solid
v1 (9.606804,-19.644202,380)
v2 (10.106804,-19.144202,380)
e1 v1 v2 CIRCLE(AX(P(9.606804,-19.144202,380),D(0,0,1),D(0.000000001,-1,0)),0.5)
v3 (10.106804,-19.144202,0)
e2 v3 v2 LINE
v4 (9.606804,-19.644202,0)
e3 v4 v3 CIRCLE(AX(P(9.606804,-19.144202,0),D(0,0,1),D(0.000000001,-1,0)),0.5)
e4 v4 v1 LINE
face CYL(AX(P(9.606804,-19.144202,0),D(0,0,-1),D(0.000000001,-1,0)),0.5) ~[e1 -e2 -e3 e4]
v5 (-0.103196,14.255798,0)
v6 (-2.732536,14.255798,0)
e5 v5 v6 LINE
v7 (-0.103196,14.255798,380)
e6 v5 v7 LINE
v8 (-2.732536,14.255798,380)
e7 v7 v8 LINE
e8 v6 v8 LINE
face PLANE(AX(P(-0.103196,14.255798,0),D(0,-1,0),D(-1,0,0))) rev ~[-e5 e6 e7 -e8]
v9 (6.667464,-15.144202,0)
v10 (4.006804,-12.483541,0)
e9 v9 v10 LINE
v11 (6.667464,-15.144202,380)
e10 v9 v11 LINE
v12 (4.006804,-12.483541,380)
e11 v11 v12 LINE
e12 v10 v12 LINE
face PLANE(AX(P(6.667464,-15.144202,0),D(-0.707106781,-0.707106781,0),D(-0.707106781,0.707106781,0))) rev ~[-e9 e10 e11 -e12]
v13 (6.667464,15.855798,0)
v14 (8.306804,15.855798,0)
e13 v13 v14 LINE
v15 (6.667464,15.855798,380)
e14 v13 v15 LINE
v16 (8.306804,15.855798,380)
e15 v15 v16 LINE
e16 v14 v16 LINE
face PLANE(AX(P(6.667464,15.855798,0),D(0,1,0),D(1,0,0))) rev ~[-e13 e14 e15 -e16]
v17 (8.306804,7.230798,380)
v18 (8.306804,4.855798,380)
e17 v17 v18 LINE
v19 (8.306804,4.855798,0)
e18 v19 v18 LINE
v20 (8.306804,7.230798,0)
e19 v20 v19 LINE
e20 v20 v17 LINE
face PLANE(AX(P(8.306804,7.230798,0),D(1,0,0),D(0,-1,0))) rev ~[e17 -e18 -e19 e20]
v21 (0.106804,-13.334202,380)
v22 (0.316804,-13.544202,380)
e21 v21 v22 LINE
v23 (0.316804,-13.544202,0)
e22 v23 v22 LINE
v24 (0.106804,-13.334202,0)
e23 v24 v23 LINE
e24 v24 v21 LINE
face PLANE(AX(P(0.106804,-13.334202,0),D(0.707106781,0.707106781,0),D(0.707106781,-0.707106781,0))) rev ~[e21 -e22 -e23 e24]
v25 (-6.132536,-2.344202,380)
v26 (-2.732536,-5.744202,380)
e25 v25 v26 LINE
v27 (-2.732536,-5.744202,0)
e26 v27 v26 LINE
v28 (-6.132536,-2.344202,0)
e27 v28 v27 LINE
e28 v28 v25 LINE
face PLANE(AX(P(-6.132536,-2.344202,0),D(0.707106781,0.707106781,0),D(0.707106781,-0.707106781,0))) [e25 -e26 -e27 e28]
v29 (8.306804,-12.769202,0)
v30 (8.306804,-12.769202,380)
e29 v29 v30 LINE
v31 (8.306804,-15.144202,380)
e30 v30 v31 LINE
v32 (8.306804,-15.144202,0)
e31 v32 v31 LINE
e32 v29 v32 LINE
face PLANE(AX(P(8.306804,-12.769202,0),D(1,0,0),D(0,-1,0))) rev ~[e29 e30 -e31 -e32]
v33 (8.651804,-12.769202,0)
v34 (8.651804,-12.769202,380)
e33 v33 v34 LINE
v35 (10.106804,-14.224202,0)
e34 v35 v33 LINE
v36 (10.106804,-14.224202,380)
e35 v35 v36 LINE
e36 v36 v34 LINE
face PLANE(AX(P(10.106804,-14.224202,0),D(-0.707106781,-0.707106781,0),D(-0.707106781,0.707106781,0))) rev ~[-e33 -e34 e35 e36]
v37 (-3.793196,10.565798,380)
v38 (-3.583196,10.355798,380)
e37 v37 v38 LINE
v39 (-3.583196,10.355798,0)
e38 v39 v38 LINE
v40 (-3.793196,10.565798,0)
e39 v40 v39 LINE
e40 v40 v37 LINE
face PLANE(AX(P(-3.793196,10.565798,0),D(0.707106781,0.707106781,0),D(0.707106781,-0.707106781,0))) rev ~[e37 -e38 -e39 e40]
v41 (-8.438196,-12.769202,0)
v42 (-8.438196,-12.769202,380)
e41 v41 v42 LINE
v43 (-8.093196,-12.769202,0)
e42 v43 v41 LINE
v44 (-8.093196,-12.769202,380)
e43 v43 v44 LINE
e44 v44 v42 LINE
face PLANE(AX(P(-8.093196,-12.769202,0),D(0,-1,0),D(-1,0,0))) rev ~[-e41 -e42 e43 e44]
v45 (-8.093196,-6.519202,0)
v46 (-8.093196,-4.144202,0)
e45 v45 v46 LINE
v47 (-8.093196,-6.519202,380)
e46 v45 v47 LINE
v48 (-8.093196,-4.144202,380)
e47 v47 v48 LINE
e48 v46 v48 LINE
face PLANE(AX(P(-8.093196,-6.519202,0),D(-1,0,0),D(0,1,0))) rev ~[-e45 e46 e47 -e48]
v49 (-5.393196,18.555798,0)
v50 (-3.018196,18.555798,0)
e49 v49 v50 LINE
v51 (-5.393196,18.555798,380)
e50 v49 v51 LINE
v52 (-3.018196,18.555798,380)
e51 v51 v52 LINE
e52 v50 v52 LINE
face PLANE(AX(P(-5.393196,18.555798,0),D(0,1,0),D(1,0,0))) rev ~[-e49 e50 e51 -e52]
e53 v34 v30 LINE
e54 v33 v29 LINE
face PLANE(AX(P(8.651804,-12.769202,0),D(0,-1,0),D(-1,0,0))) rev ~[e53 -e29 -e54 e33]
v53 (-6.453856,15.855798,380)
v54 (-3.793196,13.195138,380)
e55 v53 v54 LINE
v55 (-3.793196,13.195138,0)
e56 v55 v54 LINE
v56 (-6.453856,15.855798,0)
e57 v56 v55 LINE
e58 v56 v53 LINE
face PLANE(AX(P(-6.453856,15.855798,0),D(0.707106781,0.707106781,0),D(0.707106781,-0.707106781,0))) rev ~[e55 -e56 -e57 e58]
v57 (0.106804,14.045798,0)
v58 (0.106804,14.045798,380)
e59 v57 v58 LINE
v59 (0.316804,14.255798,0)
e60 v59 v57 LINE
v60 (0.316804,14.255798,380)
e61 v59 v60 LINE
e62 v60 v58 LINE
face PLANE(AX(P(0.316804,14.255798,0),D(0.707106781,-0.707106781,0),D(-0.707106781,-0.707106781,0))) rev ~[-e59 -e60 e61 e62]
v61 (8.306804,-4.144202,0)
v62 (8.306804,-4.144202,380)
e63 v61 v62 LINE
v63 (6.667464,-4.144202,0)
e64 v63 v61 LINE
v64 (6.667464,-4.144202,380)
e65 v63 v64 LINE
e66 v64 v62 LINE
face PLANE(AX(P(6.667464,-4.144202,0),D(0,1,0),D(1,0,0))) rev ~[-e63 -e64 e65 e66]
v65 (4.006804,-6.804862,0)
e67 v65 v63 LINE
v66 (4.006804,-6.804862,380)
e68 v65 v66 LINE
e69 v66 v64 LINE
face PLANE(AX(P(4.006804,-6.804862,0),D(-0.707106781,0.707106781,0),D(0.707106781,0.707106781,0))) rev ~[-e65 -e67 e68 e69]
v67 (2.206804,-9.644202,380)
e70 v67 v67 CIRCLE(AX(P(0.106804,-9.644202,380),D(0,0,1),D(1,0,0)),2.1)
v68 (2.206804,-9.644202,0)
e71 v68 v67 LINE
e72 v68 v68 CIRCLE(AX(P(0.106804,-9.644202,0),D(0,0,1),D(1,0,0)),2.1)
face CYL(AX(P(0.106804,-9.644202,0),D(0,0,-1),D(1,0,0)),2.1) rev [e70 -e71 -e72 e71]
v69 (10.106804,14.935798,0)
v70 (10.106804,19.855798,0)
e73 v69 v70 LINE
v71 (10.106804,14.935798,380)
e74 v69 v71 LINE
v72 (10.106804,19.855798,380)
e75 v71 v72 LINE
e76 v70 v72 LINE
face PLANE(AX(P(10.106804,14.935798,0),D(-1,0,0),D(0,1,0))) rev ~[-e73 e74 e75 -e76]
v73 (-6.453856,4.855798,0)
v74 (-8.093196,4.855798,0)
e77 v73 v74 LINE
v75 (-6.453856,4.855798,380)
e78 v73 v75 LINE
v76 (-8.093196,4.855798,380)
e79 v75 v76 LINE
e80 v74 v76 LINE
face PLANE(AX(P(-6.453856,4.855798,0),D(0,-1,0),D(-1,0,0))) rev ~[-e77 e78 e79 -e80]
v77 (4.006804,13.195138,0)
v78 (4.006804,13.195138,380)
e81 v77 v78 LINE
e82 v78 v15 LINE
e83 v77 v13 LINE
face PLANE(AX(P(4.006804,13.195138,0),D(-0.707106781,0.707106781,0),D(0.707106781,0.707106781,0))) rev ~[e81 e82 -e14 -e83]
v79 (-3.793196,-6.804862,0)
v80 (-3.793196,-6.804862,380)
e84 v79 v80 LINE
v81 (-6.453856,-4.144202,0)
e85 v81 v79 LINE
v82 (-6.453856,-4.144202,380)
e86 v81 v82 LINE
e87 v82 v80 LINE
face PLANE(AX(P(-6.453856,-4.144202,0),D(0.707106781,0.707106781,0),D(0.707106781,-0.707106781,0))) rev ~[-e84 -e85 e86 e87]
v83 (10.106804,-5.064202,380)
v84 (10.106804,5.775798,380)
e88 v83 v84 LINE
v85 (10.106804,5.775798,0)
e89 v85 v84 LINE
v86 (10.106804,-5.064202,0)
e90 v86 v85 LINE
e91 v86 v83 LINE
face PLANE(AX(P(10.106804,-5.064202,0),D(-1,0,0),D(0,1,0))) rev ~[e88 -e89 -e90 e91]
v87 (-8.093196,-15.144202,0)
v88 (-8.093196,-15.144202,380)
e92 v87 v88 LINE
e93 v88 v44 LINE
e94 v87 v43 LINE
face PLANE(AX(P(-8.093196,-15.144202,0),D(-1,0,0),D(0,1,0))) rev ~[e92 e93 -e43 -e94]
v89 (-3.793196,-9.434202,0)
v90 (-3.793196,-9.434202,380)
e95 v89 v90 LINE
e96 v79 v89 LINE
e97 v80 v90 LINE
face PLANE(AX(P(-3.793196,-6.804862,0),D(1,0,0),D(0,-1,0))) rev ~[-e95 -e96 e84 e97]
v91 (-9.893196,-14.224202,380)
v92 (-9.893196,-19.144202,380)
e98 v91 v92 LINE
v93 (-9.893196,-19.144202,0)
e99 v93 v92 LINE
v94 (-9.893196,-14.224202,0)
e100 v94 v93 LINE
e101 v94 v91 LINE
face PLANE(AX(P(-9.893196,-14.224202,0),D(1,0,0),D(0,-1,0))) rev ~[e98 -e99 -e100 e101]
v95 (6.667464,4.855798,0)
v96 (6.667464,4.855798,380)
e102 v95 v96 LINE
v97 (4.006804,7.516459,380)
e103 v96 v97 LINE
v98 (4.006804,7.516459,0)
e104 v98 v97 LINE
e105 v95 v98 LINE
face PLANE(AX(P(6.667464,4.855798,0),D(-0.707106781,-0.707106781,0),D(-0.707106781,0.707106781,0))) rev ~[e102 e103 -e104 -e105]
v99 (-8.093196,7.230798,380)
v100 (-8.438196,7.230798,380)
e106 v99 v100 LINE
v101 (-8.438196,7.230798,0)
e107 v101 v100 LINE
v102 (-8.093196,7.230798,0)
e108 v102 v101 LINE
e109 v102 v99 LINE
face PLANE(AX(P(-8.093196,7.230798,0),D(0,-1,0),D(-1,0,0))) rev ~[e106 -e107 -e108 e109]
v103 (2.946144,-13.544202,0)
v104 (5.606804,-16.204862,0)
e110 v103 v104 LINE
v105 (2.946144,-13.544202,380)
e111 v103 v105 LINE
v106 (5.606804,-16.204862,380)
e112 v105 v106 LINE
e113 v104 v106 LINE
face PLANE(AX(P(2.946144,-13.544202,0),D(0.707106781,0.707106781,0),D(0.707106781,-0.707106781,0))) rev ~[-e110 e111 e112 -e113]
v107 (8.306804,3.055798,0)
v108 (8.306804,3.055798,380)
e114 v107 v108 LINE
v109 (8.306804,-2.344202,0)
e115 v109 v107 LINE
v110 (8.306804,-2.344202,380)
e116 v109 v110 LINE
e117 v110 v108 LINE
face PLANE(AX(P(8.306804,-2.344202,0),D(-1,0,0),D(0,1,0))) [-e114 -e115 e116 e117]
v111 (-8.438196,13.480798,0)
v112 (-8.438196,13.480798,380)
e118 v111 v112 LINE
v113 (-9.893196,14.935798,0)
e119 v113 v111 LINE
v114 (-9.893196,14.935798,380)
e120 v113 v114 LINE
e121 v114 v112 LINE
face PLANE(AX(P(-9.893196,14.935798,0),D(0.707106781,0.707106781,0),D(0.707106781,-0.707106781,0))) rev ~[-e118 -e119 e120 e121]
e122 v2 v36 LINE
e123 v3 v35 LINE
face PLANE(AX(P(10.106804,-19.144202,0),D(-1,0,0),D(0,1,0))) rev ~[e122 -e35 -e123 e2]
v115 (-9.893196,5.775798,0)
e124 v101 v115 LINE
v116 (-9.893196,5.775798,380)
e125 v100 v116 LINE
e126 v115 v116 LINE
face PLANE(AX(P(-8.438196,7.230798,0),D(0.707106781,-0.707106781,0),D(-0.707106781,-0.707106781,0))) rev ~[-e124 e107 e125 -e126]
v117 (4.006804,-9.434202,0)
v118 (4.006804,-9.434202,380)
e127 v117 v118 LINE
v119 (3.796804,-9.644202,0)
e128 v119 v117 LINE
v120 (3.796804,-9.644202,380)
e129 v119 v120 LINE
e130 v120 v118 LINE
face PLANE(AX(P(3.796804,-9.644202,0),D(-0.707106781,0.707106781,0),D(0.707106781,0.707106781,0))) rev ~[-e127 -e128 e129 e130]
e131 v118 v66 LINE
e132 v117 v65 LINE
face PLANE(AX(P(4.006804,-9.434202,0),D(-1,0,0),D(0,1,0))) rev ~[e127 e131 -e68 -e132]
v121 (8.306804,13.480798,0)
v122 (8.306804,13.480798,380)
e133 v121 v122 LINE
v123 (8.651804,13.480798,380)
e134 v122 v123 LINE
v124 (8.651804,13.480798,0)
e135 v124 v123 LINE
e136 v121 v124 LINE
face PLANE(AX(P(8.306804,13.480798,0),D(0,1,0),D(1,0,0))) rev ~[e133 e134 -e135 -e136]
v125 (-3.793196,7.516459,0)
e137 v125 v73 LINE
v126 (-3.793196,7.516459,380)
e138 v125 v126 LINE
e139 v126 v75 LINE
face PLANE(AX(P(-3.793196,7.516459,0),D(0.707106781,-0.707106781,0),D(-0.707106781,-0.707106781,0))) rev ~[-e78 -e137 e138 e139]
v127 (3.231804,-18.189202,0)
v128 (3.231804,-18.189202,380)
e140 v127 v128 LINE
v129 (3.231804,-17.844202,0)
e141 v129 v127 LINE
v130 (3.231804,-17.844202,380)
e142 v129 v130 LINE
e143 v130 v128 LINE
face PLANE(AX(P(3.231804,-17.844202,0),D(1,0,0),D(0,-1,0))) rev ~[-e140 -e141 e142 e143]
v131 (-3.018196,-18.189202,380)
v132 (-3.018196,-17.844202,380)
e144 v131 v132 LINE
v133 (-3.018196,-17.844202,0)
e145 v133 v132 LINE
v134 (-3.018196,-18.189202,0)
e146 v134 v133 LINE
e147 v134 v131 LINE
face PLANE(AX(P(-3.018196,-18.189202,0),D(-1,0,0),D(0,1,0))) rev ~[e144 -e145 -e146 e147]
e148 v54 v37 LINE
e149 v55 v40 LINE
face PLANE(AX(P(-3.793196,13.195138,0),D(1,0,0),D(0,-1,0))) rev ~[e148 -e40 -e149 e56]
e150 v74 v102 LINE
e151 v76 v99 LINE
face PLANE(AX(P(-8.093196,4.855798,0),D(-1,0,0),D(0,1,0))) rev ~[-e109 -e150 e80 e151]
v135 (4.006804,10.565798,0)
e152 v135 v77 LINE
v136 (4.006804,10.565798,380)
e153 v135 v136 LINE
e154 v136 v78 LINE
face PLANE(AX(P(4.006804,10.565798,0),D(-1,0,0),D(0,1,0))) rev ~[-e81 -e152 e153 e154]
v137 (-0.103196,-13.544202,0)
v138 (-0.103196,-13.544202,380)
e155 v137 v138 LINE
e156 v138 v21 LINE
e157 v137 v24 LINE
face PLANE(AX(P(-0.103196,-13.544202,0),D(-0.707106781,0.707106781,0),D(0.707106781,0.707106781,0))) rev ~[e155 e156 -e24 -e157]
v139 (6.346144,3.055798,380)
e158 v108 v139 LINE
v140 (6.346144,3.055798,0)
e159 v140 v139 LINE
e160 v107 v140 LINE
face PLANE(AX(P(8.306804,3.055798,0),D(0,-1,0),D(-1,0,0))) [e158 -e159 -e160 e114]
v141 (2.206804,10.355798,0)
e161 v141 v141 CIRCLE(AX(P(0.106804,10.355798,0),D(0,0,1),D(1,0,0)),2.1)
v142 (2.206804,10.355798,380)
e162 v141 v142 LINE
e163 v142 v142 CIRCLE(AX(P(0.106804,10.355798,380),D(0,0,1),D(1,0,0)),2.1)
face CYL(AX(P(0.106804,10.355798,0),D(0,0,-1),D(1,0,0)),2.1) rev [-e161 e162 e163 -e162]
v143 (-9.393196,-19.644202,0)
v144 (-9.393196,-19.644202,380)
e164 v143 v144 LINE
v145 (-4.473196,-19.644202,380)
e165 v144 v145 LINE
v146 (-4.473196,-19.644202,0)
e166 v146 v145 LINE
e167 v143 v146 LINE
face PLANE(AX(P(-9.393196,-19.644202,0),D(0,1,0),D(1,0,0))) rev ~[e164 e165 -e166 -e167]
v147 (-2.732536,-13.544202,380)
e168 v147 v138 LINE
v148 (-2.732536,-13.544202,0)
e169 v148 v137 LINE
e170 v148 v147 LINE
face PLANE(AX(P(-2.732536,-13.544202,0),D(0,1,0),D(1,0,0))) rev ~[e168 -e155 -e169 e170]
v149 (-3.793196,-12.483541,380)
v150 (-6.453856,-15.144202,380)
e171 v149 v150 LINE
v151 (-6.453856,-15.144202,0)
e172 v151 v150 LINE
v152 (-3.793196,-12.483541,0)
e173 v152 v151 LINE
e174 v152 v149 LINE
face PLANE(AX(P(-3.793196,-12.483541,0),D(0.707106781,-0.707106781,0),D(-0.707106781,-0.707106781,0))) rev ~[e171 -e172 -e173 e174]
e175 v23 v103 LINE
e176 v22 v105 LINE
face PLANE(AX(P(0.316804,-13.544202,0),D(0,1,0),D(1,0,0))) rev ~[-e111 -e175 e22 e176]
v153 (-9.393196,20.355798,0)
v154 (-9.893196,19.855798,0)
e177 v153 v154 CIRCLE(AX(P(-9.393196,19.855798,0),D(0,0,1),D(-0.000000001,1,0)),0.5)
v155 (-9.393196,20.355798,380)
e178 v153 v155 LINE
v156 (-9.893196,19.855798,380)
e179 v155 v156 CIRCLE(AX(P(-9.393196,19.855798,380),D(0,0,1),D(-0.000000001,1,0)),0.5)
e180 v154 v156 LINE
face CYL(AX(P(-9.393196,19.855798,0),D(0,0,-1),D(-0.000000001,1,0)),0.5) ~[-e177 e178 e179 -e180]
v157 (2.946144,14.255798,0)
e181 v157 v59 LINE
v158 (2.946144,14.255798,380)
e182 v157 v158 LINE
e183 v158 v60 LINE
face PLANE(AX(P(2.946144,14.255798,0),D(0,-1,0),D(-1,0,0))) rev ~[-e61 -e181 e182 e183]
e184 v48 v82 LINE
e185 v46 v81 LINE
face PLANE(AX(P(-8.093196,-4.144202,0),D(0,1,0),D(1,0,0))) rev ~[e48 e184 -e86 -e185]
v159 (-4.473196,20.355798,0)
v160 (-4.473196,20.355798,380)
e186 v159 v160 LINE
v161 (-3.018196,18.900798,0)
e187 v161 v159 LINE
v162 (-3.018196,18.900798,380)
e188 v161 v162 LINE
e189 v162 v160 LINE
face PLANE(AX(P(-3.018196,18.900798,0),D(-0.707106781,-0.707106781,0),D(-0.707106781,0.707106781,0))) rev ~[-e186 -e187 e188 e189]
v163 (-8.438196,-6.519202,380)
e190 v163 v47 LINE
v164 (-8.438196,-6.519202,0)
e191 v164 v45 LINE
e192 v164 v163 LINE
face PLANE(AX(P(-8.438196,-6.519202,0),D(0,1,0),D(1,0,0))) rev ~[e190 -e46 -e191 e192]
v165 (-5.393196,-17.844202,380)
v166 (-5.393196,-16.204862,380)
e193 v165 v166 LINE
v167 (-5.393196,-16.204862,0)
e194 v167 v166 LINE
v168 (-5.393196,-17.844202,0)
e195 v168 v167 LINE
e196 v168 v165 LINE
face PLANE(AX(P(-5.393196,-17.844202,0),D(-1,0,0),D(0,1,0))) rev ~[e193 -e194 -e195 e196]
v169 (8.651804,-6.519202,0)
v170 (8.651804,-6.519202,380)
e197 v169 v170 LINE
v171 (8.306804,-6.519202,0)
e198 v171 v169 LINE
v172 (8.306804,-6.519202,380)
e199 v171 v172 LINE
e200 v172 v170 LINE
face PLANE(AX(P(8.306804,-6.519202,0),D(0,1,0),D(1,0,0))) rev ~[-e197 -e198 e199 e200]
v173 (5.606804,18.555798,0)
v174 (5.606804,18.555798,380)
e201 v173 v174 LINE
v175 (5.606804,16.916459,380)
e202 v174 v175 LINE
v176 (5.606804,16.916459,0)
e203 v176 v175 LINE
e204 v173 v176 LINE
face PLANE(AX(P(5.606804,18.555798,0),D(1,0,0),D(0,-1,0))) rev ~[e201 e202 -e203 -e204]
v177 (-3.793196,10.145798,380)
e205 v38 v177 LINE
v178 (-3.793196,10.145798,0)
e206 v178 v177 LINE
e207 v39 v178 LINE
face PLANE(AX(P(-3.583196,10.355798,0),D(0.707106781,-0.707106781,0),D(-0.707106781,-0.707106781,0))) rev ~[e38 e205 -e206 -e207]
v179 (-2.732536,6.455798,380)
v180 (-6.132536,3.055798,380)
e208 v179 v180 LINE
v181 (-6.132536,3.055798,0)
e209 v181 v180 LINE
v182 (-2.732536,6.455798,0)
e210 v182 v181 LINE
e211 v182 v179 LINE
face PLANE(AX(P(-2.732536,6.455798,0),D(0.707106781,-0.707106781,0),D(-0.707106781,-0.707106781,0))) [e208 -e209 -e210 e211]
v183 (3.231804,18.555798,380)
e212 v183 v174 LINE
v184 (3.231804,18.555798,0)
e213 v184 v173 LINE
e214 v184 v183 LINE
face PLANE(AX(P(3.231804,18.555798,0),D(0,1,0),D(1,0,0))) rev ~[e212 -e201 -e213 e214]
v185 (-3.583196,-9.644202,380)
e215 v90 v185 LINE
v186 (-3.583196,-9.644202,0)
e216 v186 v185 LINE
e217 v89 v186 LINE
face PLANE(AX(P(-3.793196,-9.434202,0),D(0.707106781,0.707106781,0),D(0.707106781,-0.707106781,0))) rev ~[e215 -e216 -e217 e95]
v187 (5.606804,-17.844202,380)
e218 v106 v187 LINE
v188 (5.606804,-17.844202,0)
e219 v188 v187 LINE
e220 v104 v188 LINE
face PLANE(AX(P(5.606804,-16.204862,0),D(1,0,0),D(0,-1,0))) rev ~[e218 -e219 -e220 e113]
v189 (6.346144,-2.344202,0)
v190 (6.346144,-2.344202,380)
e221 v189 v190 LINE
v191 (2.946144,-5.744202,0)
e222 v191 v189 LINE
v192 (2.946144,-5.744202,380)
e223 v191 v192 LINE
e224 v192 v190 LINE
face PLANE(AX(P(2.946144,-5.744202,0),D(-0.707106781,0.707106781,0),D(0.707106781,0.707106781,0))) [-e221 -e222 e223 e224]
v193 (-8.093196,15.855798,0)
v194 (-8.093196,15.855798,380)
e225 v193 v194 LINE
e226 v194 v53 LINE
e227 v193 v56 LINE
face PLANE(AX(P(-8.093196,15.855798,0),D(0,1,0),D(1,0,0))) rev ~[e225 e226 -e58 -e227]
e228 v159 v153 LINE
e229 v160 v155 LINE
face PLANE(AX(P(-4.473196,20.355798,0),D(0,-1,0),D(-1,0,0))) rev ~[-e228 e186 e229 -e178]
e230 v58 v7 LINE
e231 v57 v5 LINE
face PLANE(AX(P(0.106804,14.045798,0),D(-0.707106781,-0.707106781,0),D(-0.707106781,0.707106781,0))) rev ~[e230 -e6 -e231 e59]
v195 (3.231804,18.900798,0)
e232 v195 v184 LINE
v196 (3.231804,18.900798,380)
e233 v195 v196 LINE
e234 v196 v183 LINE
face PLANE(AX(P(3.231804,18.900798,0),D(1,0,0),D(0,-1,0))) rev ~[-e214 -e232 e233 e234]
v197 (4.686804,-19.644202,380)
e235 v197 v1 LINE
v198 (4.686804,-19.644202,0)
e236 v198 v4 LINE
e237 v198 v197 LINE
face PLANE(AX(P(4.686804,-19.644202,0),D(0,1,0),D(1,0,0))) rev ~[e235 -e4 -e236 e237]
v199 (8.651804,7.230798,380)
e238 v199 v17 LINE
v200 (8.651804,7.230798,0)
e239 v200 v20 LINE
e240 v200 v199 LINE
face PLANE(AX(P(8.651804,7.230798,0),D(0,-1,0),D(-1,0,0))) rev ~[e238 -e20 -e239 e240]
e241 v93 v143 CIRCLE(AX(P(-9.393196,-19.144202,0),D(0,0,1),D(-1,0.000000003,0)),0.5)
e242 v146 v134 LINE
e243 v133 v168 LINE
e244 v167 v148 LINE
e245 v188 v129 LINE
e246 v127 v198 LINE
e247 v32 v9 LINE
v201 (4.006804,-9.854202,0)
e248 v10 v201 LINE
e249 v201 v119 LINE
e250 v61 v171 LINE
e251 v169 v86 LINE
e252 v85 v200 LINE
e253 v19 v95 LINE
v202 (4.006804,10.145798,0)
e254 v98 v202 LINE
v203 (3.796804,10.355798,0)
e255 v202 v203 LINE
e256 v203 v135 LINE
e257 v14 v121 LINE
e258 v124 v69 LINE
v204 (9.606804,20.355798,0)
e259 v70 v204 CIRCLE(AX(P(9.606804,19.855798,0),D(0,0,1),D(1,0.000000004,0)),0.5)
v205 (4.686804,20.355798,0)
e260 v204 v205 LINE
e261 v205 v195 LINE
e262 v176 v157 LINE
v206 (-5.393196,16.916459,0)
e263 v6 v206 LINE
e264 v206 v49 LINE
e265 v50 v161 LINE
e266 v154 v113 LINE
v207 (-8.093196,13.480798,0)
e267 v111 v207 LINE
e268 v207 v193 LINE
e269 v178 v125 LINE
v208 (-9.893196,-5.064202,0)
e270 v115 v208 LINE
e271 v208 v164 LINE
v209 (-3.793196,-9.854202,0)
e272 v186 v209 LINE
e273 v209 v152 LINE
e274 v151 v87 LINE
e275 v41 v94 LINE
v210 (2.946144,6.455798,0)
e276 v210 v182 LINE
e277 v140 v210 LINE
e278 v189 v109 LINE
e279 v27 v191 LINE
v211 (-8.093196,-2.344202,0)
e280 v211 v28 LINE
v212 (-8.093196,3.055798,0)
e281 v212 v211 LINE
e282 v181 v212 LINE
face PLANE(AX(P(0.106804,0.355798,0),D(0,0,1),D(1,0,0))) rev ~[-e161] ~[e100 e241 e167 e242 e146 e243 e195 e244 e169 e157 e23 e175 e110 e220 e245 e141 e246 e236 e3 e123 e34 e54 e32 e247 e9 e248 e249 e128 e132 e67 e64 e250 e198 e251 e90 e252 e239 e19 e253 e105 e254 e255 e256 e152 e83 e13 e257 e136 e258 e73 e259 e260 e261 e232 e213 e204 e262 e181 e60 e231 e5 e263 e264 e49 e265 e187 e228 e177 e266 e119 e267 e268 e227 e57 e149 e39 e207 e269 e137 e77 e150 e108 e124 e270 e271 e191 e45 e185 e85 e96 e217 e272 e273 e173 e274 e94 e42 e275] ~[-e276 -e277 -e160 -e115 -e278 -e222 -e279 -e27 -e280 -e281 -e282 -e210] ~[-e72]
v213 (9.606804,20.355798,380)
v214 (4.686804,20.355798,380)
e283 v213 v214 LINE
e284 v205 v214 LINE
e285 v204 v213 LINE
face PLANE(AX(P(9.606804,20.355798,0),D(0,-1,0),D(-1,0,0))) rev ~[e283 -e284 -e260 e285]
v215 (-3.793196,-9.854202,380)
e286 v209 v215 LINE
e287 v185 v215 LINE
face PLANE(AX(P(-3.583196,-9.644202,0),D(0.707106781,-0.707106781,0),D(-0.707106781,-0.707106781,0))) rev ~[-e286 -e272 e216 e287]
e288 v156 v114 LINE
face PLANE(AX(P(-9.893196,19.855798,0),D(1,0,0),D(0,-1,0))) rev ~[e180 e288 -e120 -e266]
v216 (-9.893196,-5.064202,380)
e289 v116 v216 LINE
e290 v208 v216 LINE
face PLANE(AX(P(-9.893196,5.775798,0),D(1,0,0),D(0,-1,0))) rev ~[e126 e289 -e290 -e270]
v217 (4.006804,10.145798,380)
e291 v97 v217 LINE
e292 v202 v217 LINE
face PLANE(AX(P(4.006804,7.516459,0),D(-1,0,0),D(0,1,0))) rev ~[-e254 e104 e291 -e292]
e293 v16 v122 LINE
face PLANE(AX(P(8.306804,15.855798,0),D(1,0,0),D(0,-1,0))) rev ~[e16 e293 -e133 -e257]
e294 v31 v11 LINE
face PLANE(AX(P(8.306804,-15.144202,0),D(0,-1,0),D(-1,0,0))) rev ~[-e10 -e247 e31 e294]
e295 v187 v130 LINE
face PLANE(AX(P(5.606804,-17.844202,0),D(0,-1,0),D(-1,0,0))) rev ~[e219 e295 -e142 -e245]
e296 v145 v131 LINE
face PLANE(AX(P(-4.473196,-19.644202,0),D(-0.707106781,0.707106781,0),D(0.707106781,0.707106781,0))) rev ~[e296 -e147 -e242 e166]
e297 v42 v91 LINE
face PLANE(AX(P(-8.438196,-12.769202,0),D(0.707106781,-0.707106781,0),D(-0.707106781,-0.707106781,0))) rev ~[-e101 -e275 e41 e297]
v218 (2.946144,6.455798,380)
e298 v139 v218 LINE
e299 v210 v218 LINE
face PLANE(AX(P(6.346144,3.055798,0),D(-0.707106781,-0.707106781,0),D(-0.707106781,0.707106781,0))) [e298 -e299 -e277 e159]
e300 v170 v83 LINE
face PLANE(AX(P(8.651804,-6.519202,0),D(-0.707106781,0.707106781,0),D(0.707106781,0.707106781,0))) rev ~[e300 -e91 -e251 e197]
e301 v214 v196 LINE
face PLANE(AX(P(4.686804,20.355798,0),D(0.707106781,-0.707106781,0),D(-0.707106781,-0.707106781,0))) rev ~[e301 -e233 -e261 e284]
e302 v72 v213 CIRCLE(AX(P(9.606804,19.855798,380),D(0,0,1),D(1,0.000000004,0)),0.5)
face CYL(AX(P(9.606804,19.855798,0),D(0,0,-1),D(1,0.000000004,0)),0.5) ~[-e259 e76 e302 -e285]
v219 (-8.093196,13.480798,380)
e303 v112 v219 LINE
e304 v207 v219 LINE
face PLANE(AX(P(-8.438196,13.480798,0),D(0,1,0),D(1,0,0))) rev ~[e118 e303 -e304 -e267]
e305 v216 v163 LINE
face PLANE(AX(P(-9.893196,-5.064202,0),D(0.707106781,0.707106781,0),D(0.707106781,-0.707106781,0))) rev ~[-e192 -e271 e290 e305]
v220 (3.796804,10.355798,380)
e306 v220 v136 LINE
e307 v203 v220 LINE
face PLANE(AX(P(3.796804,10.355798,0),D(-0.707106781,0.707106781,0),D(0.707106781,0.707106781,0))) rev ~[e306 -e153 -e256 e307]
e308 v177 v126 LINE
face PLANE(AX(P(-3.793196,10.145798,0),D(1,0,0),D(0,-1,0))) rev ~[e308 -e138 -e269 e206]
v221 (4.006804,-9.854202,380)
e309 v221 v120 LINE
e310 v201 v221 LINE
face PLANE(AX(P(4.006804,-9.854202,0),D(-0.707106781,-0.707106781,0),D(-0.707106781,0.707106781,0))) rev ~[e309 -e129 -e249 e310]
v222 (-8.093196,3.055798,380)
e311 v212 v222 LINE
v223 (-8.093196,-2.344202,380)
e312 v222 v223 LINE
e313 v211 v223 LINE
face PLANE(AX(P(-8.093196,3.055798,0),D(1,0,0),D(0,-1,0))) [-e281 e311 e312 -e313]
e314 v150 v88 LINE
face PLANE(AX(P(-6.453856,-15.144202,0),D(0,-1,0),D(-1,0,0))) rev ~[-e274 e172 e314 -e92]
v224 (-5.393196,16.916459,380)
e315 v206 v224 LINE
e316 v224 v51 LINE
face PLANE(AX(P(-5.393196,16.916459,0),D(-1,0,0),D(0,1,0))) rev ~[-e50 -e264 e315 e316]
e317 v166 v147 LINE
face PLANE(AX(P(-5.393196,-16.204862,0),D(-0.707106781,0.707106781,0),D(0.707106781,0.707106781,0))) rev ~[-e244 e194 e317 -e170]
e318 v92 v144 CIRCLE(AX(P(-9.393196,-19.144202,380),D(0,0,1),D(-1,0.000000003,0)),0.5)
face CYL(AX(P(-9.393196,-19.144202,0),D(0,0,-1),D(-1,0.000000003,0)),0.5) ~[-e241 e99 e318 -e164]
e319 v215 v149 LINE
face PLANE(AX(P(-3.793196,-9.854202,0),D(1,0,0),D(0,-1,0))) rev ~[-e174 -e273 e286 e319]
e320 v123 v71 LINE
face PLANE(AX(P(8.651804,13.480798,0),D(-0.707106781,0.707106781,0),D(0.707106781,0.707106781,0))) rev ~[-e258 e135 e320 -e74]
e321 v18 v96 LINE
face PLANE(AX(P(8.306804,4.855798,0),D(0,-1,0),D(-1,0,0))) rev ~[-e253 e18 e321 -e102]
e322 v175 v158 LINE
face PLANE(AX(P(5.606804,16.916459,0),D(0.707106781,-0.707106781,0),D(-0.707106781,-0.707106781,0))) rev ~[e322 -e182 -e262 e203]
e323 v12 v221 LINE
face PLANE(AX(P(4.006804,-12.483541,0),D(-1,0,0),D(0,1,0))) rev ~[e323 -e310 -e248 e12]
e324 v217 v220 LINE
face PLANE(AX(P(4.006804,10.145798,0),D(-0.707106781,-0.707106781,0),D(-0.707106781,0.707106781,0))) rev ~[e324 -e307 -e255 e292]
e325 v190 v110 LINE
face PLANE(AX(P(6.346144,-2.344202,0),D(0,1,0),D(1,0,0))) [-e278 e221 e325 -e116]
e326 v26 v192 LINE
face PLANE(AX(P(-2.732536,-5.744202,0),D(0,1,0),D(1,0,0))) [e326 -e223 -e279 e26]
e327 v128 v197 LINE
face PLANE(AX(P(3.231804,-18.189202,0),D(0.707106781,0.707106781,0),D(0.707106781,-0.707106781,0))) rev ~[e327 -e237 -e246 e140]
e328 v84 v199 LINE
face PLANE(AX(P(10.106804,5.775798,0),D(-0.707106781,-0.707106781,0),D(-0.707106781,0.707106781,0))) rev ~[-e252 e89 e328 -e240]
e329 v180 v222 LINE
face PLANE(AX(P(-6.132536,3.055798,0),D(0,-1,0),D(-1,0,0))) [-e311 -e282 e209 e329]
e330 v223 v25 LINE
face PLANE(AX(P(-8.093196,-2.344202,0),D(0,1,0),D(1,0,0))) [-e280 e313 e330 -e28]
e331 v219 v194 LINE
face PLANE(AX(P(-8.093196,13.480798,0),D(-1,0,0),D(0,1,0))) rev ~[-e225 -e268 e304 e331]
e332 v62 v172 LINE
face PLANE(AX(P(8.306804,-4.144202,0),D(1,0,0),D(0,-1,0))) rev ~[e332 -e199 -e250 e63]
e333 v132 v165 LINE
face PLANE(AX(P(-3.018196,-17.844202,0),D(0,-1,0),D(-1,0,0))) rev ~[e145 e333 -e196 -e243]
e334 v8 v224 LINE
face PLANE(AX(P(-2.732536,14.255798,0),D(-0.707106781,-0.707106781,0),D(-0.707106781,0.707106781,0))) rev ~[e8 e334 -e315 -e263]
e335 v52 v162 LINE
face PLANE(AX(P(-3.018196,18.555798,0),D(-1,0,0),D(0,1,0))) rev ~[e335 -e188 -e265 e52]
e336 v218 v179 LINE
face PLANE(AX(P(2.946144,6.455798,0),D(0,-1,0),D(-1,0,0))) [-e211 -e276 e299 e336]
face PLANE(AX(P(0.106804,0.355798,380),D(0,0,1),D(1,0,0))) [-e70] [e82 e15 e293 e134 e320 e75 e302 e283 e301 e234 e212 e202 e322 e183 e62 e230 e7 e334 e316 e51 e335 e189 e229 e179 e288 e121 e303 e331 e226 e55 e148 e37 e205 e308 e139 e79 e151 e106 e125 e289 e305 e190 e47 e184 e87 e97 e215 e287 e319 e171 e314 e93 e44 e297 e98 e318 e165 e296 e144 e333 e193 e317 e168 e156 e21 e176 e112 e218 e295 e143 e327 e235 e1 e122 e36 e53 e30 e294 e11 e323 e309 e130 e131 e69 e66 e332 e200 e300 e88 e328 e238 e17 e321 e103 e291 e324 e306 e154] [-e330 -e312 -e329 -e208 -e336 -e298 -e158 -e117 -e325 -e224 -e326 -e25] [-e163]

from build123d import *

# Parameters (mm, degrees)
SKETCH2_R           = 2.1
BOSS_EXTRUDE1_DEPTH = 380


with BuildPart() as part:
    # Sketch2 → Boss-Extrude1 (new body)
    with BuildSketch(Plane.XY):
        with BuildLine():
            Line((4.006804208, 10.145798499), (3.796804208, 10.355798499))
            Line((3.796804208, 10.355798499), (4.006804208, 10.565798499))
            Line((4.006804208, 10.565798499), (4.006804208, 13.195138327))
            Line((4.006804208, 13.195138327), (6.66746438, 15.855798499))
            Line((6.66746438, 15.855798499), (8.306804208, 15.855798499))
            Line((8.306804208, 15.855798499), (8.306804208, 13.480798499))
            Line((8.306804208, 13.480798499), (8.651804208, 13.480798499))
            Line((8.651804208, 13.480798499), (10.106804208, 14.935798499))
            Line((10.106804208, 14.935798499), (10.106804208, 19.855798499))
            ThreePointArc((10.106804208, 19.855798499), (9.960357598, 20.209351889), (9.606804208, 20.355798499))
            Line((9.606804208, 20.355798499), (4.686804208, 20.355798499))
            Line((4.686804208, 20.355798499), (3.231804208, 18.900798499))
            Line((3.231804208, 18.900798499), (3.231804208, 18.555798499))
            Line((3.231804208, 18.555798499), (5.606804208, 18.555798499))
            Line((5.606804208, 18.555798499), (5.606804208, 16.91645867))
            Line((5.606804208, 16.91645867), (2.946144036, 14.255798499))
            Line((2.946144036, 14.255798499), (0.316804208, 14.255798499))
            Line((0.316804208, 14.255798499), (0.106804208, 14.045798499))
            Line((0.106804208, 14.045798499), (-0.103195792, 14.255798499))
            Line((-0.103195792, 14.255798499), (-2.73253562, 14.255798499))
            Line((-2.73253562, 14.255798499), (-5.393195792, 16.91645867))
            Line((-5.393195792, 16.91645867), (-5.393195792, 18.555798499))
            Line((-5.393195792, 18.555798499), (-3.018195792, 18.555798499))
            Line((-3.018195792, 18.555798499), (-3.018195792, 18.900798499))
            Line((-3.018195792, 18.900798499), (-4.473195792, 20.355798499))
            Line((-4.473195792, 20.355798499), (-9.393195792, 20.355798499))
            ThreePointArc((-9.393195792, 20.355798499), (-9.746749183, 20.209351889), (-9.893195792, 19.855798499))
            Line((-9.893195792, 19.855798499), (-9.893195792, 14.935798499))
            Line((-9.893195792, 14.935798499), (-8.438195792, 13.480798499))
            Line((-8.438195792, 13.480798499), (-8.093195792, 13.480798499))
            Line((-8.093195792, 13.480798499), (-8.093195792, 15.855798499))
            Line((-8.093195792, 15.855798499), (-6.453855964, 15.855798499))
            Line((-6.453855964, 15.855798499), (-3.793195792, 13.195138327))
            Line((-3.793195792, 13.195138327), (-3.793195792, 10.565798499))
            Line((-3.793195792, 10.565798499), (-3.583195792, 10.355798499))
            Line((-3.583195792, 10.355798499), (-3.793195792, 10.145798499))
            Line((-3.793195792, 10.145798499), (-3.793195792, 7.51645867))
            Line((-3.793195792, 7.51645867), (-6.453855964, 4.855798499))
            Line((-6.453855964, 4.855798499), (-8.093195792, 4.855798499))
            Line((-8.093195792, 4.855798499), (-8.093195792, 7.230798499))
            Line((-8.093195792, 7.230798499), (-8.438195792, 7.230798499))
            Line((-8.438195792, 7.230798499), (-9.893195792, 5.775798499))
            Line((-9.893195792, 5.775798499), (-9.893195792, -5.064201501))
            Line((-9.893195792, -5.064201501), (-8.438195792, -6.519201501))
            Line((-8.438195792, -6.519201501), (-8.093195792, -6.519201501))
            Line((-8.093195792, -6.519201501), (-8.093195792, -4.144201501))
            Line((-8.093195792, -4.144201501), (-6.453855964, -4.144201501))
            Line((-6.453855964, -4.144201501), (-3.793195792, -6.804861673))
            Line((-3.793195792, -6.804861673), (-3.793195792, -9.434201501))
            Line((-3.793195792, -9.434201501), (-3.583195792, -9.644201501))
            Line((-3.583195792, -9.644201501), (-3.793195792, -9.854201501))
            Line((-3.793195792, -9.854201501), (-3.793195792, -12.48354133))
            Line((-3.793195792, -12.48354133), (-6.453855964, -15.144201501))
            Line((-6.453855964, -15.144201501), (-8.093195792, -15.144201501))
            Line((-8.093195792, -15.144201501), (-8.093195792, -12.769201501))
            Line((-8.093195792, -12.769201501), (-8.438195792, -12.769201501))
            Line((-8.438195792, -12.769201501), (-9.893195792, -14.224201501))
            Line((-9.893195792, -14.224201501), (-9.893195792, -19.144201501))
            ThreePointArc((-9.893195792, -19.144201501), (-9.746749183, -19.497754892), (-9.393195792, -19.644201501))
            Line((-9.393195792, -19.644201501), (-4.473195792, -19.644201501))
            Line((-4.473195792, -19.644201501), (-3.018195792, -18.189201501))
            Line((-3.018195792, -18.189201501), (-3.018195792, -17.844201501))
            Line((-3.018195792, -17.844201501), (-5.393195792, -17.844201501))
            Line((-5.393195792, -17.844201501), (-5.393195792, -16.204861673))
            Line((-5.393195792, -16.204861673), (-2.73253562, -13.544201501))
            Line((-2.73253562, -13.544201501), (-0.103195792, -13.544201501))
            Line((-0.103195792, -13.544201501), (0.106804208, -13.334201501))
            Line((0.106804208, -13.334201501), (0.316804208, -13.544201501))
            Line((0.316804208, -13.544201501), (2.946144036, -13.544201501))
            Line((2.946144036, -13.544201501), (5.606804208, -16.204861673))
            Line((5.606804208, -16.204861673), (5.606804208, -17.844201501))
            Line((5.606804208, -17.844201501), (3.231804208, -17.844201501))
            Line((3.231804208, -17.844201501), (3.231804208, -18.189201501))
            Line((3.231804208, -18.189201501), (4.686804208, -19.644201501))
            Line((4.686804208, -19.644201501), (9.606804208, -19.644201501))
            ThreePointArc((9.606804208, -19.644201501), (9.960357598, -19.497754892), (10.106804208, -19.144201501))
            Line((10.106804208, -19.144201501), (10.106804208, -14.224201501))
            Line((10.106804208, -14.224201501), (8.651804208, -12.769201501))
            Line((8.651804208, -12.769201501), (8.306804208, -12.769201501))
            Line((8.306804208, -12.769201501), (8.306804208, -15.144201501))
            Line((8.306804208, -15.144201501), (6.66746438, -15.144201501))
            Line((6.66746438, -15.144201501), (4.006804208, -12.48354133))
            Line((4.006804208, -12.48354133), (4.006804208, -9.854201501))
            Line((4.006804208, -9.854201501), (3.796804208, -9.644201501))
            Line((3.796804208, -9.644201501), (4.006804208, -9.434201501))
            Line((4.006804208, -9.434201501), (4.006804208, -6.804861673))
            Line((4.006804208, -6.804861673), (6.66746438, -4.144201501))
            Line((6.66746438, -4.144201501), (8.306804208, -4.144201501))
            Line((8.306804208, -4.144201501), (8.306804208, -6.519201501))
            Line((8.306804208, -6.519201501), (8.651804208, -6.519201501))
            Line((8.651804208, -6.519201501), (10.106804208, -5.064201501))
            Line((10.106804208, -5.064201501), (10.106804208, 5.775798499))
            Line((10.106804208, 5.775798499), (8.651804208, 7.230798499))
            Line((8.651804208, 7.230798499), (8.306804208, 7.230798499))
            Line((8.306804208, 7.230798499), (8.306804208, 4.855798499))
            Line((8.306804208, 4.855798499), (6.66746438, 4.855798499))
            Line((6.66746438, 4.855798499), (4.006804208, 7.51645867))
            Line((4.006804208, 7.51645867), (4.006804208, 10.145798499))
        make_face()
        with Locations((0.106804208, -9.644201501)):
            Circle(SKETCH2_R, mode=Mode.SUBTRACT)
        with Locations((0.106804208, 10.355798499)):
            Circle(SKETCH2_R, mode=Mode.SUBTRACT)
        Polygon((-6.13253562, -2.344201501), (-2.73253562, -5.744201501), (2.946144036, -5.744201501), (6.346144036, -2.344201501), (8.306804208, -2.344201501), (8.306804208, 3.055798499), (6.346144036, 3.055798499), (2.946144036, 6.455798499), (-2.73253562, 6.455798499), (-6.13253562, 3.055798499), (-8.093195792, 3.055798499), (-8.093195792, -2.344201501), align=None, mode=Mode.SUBTRACT)
    extrude(amount=BOSS_EXTRUDE1_DEPTH)


solid = part.part
